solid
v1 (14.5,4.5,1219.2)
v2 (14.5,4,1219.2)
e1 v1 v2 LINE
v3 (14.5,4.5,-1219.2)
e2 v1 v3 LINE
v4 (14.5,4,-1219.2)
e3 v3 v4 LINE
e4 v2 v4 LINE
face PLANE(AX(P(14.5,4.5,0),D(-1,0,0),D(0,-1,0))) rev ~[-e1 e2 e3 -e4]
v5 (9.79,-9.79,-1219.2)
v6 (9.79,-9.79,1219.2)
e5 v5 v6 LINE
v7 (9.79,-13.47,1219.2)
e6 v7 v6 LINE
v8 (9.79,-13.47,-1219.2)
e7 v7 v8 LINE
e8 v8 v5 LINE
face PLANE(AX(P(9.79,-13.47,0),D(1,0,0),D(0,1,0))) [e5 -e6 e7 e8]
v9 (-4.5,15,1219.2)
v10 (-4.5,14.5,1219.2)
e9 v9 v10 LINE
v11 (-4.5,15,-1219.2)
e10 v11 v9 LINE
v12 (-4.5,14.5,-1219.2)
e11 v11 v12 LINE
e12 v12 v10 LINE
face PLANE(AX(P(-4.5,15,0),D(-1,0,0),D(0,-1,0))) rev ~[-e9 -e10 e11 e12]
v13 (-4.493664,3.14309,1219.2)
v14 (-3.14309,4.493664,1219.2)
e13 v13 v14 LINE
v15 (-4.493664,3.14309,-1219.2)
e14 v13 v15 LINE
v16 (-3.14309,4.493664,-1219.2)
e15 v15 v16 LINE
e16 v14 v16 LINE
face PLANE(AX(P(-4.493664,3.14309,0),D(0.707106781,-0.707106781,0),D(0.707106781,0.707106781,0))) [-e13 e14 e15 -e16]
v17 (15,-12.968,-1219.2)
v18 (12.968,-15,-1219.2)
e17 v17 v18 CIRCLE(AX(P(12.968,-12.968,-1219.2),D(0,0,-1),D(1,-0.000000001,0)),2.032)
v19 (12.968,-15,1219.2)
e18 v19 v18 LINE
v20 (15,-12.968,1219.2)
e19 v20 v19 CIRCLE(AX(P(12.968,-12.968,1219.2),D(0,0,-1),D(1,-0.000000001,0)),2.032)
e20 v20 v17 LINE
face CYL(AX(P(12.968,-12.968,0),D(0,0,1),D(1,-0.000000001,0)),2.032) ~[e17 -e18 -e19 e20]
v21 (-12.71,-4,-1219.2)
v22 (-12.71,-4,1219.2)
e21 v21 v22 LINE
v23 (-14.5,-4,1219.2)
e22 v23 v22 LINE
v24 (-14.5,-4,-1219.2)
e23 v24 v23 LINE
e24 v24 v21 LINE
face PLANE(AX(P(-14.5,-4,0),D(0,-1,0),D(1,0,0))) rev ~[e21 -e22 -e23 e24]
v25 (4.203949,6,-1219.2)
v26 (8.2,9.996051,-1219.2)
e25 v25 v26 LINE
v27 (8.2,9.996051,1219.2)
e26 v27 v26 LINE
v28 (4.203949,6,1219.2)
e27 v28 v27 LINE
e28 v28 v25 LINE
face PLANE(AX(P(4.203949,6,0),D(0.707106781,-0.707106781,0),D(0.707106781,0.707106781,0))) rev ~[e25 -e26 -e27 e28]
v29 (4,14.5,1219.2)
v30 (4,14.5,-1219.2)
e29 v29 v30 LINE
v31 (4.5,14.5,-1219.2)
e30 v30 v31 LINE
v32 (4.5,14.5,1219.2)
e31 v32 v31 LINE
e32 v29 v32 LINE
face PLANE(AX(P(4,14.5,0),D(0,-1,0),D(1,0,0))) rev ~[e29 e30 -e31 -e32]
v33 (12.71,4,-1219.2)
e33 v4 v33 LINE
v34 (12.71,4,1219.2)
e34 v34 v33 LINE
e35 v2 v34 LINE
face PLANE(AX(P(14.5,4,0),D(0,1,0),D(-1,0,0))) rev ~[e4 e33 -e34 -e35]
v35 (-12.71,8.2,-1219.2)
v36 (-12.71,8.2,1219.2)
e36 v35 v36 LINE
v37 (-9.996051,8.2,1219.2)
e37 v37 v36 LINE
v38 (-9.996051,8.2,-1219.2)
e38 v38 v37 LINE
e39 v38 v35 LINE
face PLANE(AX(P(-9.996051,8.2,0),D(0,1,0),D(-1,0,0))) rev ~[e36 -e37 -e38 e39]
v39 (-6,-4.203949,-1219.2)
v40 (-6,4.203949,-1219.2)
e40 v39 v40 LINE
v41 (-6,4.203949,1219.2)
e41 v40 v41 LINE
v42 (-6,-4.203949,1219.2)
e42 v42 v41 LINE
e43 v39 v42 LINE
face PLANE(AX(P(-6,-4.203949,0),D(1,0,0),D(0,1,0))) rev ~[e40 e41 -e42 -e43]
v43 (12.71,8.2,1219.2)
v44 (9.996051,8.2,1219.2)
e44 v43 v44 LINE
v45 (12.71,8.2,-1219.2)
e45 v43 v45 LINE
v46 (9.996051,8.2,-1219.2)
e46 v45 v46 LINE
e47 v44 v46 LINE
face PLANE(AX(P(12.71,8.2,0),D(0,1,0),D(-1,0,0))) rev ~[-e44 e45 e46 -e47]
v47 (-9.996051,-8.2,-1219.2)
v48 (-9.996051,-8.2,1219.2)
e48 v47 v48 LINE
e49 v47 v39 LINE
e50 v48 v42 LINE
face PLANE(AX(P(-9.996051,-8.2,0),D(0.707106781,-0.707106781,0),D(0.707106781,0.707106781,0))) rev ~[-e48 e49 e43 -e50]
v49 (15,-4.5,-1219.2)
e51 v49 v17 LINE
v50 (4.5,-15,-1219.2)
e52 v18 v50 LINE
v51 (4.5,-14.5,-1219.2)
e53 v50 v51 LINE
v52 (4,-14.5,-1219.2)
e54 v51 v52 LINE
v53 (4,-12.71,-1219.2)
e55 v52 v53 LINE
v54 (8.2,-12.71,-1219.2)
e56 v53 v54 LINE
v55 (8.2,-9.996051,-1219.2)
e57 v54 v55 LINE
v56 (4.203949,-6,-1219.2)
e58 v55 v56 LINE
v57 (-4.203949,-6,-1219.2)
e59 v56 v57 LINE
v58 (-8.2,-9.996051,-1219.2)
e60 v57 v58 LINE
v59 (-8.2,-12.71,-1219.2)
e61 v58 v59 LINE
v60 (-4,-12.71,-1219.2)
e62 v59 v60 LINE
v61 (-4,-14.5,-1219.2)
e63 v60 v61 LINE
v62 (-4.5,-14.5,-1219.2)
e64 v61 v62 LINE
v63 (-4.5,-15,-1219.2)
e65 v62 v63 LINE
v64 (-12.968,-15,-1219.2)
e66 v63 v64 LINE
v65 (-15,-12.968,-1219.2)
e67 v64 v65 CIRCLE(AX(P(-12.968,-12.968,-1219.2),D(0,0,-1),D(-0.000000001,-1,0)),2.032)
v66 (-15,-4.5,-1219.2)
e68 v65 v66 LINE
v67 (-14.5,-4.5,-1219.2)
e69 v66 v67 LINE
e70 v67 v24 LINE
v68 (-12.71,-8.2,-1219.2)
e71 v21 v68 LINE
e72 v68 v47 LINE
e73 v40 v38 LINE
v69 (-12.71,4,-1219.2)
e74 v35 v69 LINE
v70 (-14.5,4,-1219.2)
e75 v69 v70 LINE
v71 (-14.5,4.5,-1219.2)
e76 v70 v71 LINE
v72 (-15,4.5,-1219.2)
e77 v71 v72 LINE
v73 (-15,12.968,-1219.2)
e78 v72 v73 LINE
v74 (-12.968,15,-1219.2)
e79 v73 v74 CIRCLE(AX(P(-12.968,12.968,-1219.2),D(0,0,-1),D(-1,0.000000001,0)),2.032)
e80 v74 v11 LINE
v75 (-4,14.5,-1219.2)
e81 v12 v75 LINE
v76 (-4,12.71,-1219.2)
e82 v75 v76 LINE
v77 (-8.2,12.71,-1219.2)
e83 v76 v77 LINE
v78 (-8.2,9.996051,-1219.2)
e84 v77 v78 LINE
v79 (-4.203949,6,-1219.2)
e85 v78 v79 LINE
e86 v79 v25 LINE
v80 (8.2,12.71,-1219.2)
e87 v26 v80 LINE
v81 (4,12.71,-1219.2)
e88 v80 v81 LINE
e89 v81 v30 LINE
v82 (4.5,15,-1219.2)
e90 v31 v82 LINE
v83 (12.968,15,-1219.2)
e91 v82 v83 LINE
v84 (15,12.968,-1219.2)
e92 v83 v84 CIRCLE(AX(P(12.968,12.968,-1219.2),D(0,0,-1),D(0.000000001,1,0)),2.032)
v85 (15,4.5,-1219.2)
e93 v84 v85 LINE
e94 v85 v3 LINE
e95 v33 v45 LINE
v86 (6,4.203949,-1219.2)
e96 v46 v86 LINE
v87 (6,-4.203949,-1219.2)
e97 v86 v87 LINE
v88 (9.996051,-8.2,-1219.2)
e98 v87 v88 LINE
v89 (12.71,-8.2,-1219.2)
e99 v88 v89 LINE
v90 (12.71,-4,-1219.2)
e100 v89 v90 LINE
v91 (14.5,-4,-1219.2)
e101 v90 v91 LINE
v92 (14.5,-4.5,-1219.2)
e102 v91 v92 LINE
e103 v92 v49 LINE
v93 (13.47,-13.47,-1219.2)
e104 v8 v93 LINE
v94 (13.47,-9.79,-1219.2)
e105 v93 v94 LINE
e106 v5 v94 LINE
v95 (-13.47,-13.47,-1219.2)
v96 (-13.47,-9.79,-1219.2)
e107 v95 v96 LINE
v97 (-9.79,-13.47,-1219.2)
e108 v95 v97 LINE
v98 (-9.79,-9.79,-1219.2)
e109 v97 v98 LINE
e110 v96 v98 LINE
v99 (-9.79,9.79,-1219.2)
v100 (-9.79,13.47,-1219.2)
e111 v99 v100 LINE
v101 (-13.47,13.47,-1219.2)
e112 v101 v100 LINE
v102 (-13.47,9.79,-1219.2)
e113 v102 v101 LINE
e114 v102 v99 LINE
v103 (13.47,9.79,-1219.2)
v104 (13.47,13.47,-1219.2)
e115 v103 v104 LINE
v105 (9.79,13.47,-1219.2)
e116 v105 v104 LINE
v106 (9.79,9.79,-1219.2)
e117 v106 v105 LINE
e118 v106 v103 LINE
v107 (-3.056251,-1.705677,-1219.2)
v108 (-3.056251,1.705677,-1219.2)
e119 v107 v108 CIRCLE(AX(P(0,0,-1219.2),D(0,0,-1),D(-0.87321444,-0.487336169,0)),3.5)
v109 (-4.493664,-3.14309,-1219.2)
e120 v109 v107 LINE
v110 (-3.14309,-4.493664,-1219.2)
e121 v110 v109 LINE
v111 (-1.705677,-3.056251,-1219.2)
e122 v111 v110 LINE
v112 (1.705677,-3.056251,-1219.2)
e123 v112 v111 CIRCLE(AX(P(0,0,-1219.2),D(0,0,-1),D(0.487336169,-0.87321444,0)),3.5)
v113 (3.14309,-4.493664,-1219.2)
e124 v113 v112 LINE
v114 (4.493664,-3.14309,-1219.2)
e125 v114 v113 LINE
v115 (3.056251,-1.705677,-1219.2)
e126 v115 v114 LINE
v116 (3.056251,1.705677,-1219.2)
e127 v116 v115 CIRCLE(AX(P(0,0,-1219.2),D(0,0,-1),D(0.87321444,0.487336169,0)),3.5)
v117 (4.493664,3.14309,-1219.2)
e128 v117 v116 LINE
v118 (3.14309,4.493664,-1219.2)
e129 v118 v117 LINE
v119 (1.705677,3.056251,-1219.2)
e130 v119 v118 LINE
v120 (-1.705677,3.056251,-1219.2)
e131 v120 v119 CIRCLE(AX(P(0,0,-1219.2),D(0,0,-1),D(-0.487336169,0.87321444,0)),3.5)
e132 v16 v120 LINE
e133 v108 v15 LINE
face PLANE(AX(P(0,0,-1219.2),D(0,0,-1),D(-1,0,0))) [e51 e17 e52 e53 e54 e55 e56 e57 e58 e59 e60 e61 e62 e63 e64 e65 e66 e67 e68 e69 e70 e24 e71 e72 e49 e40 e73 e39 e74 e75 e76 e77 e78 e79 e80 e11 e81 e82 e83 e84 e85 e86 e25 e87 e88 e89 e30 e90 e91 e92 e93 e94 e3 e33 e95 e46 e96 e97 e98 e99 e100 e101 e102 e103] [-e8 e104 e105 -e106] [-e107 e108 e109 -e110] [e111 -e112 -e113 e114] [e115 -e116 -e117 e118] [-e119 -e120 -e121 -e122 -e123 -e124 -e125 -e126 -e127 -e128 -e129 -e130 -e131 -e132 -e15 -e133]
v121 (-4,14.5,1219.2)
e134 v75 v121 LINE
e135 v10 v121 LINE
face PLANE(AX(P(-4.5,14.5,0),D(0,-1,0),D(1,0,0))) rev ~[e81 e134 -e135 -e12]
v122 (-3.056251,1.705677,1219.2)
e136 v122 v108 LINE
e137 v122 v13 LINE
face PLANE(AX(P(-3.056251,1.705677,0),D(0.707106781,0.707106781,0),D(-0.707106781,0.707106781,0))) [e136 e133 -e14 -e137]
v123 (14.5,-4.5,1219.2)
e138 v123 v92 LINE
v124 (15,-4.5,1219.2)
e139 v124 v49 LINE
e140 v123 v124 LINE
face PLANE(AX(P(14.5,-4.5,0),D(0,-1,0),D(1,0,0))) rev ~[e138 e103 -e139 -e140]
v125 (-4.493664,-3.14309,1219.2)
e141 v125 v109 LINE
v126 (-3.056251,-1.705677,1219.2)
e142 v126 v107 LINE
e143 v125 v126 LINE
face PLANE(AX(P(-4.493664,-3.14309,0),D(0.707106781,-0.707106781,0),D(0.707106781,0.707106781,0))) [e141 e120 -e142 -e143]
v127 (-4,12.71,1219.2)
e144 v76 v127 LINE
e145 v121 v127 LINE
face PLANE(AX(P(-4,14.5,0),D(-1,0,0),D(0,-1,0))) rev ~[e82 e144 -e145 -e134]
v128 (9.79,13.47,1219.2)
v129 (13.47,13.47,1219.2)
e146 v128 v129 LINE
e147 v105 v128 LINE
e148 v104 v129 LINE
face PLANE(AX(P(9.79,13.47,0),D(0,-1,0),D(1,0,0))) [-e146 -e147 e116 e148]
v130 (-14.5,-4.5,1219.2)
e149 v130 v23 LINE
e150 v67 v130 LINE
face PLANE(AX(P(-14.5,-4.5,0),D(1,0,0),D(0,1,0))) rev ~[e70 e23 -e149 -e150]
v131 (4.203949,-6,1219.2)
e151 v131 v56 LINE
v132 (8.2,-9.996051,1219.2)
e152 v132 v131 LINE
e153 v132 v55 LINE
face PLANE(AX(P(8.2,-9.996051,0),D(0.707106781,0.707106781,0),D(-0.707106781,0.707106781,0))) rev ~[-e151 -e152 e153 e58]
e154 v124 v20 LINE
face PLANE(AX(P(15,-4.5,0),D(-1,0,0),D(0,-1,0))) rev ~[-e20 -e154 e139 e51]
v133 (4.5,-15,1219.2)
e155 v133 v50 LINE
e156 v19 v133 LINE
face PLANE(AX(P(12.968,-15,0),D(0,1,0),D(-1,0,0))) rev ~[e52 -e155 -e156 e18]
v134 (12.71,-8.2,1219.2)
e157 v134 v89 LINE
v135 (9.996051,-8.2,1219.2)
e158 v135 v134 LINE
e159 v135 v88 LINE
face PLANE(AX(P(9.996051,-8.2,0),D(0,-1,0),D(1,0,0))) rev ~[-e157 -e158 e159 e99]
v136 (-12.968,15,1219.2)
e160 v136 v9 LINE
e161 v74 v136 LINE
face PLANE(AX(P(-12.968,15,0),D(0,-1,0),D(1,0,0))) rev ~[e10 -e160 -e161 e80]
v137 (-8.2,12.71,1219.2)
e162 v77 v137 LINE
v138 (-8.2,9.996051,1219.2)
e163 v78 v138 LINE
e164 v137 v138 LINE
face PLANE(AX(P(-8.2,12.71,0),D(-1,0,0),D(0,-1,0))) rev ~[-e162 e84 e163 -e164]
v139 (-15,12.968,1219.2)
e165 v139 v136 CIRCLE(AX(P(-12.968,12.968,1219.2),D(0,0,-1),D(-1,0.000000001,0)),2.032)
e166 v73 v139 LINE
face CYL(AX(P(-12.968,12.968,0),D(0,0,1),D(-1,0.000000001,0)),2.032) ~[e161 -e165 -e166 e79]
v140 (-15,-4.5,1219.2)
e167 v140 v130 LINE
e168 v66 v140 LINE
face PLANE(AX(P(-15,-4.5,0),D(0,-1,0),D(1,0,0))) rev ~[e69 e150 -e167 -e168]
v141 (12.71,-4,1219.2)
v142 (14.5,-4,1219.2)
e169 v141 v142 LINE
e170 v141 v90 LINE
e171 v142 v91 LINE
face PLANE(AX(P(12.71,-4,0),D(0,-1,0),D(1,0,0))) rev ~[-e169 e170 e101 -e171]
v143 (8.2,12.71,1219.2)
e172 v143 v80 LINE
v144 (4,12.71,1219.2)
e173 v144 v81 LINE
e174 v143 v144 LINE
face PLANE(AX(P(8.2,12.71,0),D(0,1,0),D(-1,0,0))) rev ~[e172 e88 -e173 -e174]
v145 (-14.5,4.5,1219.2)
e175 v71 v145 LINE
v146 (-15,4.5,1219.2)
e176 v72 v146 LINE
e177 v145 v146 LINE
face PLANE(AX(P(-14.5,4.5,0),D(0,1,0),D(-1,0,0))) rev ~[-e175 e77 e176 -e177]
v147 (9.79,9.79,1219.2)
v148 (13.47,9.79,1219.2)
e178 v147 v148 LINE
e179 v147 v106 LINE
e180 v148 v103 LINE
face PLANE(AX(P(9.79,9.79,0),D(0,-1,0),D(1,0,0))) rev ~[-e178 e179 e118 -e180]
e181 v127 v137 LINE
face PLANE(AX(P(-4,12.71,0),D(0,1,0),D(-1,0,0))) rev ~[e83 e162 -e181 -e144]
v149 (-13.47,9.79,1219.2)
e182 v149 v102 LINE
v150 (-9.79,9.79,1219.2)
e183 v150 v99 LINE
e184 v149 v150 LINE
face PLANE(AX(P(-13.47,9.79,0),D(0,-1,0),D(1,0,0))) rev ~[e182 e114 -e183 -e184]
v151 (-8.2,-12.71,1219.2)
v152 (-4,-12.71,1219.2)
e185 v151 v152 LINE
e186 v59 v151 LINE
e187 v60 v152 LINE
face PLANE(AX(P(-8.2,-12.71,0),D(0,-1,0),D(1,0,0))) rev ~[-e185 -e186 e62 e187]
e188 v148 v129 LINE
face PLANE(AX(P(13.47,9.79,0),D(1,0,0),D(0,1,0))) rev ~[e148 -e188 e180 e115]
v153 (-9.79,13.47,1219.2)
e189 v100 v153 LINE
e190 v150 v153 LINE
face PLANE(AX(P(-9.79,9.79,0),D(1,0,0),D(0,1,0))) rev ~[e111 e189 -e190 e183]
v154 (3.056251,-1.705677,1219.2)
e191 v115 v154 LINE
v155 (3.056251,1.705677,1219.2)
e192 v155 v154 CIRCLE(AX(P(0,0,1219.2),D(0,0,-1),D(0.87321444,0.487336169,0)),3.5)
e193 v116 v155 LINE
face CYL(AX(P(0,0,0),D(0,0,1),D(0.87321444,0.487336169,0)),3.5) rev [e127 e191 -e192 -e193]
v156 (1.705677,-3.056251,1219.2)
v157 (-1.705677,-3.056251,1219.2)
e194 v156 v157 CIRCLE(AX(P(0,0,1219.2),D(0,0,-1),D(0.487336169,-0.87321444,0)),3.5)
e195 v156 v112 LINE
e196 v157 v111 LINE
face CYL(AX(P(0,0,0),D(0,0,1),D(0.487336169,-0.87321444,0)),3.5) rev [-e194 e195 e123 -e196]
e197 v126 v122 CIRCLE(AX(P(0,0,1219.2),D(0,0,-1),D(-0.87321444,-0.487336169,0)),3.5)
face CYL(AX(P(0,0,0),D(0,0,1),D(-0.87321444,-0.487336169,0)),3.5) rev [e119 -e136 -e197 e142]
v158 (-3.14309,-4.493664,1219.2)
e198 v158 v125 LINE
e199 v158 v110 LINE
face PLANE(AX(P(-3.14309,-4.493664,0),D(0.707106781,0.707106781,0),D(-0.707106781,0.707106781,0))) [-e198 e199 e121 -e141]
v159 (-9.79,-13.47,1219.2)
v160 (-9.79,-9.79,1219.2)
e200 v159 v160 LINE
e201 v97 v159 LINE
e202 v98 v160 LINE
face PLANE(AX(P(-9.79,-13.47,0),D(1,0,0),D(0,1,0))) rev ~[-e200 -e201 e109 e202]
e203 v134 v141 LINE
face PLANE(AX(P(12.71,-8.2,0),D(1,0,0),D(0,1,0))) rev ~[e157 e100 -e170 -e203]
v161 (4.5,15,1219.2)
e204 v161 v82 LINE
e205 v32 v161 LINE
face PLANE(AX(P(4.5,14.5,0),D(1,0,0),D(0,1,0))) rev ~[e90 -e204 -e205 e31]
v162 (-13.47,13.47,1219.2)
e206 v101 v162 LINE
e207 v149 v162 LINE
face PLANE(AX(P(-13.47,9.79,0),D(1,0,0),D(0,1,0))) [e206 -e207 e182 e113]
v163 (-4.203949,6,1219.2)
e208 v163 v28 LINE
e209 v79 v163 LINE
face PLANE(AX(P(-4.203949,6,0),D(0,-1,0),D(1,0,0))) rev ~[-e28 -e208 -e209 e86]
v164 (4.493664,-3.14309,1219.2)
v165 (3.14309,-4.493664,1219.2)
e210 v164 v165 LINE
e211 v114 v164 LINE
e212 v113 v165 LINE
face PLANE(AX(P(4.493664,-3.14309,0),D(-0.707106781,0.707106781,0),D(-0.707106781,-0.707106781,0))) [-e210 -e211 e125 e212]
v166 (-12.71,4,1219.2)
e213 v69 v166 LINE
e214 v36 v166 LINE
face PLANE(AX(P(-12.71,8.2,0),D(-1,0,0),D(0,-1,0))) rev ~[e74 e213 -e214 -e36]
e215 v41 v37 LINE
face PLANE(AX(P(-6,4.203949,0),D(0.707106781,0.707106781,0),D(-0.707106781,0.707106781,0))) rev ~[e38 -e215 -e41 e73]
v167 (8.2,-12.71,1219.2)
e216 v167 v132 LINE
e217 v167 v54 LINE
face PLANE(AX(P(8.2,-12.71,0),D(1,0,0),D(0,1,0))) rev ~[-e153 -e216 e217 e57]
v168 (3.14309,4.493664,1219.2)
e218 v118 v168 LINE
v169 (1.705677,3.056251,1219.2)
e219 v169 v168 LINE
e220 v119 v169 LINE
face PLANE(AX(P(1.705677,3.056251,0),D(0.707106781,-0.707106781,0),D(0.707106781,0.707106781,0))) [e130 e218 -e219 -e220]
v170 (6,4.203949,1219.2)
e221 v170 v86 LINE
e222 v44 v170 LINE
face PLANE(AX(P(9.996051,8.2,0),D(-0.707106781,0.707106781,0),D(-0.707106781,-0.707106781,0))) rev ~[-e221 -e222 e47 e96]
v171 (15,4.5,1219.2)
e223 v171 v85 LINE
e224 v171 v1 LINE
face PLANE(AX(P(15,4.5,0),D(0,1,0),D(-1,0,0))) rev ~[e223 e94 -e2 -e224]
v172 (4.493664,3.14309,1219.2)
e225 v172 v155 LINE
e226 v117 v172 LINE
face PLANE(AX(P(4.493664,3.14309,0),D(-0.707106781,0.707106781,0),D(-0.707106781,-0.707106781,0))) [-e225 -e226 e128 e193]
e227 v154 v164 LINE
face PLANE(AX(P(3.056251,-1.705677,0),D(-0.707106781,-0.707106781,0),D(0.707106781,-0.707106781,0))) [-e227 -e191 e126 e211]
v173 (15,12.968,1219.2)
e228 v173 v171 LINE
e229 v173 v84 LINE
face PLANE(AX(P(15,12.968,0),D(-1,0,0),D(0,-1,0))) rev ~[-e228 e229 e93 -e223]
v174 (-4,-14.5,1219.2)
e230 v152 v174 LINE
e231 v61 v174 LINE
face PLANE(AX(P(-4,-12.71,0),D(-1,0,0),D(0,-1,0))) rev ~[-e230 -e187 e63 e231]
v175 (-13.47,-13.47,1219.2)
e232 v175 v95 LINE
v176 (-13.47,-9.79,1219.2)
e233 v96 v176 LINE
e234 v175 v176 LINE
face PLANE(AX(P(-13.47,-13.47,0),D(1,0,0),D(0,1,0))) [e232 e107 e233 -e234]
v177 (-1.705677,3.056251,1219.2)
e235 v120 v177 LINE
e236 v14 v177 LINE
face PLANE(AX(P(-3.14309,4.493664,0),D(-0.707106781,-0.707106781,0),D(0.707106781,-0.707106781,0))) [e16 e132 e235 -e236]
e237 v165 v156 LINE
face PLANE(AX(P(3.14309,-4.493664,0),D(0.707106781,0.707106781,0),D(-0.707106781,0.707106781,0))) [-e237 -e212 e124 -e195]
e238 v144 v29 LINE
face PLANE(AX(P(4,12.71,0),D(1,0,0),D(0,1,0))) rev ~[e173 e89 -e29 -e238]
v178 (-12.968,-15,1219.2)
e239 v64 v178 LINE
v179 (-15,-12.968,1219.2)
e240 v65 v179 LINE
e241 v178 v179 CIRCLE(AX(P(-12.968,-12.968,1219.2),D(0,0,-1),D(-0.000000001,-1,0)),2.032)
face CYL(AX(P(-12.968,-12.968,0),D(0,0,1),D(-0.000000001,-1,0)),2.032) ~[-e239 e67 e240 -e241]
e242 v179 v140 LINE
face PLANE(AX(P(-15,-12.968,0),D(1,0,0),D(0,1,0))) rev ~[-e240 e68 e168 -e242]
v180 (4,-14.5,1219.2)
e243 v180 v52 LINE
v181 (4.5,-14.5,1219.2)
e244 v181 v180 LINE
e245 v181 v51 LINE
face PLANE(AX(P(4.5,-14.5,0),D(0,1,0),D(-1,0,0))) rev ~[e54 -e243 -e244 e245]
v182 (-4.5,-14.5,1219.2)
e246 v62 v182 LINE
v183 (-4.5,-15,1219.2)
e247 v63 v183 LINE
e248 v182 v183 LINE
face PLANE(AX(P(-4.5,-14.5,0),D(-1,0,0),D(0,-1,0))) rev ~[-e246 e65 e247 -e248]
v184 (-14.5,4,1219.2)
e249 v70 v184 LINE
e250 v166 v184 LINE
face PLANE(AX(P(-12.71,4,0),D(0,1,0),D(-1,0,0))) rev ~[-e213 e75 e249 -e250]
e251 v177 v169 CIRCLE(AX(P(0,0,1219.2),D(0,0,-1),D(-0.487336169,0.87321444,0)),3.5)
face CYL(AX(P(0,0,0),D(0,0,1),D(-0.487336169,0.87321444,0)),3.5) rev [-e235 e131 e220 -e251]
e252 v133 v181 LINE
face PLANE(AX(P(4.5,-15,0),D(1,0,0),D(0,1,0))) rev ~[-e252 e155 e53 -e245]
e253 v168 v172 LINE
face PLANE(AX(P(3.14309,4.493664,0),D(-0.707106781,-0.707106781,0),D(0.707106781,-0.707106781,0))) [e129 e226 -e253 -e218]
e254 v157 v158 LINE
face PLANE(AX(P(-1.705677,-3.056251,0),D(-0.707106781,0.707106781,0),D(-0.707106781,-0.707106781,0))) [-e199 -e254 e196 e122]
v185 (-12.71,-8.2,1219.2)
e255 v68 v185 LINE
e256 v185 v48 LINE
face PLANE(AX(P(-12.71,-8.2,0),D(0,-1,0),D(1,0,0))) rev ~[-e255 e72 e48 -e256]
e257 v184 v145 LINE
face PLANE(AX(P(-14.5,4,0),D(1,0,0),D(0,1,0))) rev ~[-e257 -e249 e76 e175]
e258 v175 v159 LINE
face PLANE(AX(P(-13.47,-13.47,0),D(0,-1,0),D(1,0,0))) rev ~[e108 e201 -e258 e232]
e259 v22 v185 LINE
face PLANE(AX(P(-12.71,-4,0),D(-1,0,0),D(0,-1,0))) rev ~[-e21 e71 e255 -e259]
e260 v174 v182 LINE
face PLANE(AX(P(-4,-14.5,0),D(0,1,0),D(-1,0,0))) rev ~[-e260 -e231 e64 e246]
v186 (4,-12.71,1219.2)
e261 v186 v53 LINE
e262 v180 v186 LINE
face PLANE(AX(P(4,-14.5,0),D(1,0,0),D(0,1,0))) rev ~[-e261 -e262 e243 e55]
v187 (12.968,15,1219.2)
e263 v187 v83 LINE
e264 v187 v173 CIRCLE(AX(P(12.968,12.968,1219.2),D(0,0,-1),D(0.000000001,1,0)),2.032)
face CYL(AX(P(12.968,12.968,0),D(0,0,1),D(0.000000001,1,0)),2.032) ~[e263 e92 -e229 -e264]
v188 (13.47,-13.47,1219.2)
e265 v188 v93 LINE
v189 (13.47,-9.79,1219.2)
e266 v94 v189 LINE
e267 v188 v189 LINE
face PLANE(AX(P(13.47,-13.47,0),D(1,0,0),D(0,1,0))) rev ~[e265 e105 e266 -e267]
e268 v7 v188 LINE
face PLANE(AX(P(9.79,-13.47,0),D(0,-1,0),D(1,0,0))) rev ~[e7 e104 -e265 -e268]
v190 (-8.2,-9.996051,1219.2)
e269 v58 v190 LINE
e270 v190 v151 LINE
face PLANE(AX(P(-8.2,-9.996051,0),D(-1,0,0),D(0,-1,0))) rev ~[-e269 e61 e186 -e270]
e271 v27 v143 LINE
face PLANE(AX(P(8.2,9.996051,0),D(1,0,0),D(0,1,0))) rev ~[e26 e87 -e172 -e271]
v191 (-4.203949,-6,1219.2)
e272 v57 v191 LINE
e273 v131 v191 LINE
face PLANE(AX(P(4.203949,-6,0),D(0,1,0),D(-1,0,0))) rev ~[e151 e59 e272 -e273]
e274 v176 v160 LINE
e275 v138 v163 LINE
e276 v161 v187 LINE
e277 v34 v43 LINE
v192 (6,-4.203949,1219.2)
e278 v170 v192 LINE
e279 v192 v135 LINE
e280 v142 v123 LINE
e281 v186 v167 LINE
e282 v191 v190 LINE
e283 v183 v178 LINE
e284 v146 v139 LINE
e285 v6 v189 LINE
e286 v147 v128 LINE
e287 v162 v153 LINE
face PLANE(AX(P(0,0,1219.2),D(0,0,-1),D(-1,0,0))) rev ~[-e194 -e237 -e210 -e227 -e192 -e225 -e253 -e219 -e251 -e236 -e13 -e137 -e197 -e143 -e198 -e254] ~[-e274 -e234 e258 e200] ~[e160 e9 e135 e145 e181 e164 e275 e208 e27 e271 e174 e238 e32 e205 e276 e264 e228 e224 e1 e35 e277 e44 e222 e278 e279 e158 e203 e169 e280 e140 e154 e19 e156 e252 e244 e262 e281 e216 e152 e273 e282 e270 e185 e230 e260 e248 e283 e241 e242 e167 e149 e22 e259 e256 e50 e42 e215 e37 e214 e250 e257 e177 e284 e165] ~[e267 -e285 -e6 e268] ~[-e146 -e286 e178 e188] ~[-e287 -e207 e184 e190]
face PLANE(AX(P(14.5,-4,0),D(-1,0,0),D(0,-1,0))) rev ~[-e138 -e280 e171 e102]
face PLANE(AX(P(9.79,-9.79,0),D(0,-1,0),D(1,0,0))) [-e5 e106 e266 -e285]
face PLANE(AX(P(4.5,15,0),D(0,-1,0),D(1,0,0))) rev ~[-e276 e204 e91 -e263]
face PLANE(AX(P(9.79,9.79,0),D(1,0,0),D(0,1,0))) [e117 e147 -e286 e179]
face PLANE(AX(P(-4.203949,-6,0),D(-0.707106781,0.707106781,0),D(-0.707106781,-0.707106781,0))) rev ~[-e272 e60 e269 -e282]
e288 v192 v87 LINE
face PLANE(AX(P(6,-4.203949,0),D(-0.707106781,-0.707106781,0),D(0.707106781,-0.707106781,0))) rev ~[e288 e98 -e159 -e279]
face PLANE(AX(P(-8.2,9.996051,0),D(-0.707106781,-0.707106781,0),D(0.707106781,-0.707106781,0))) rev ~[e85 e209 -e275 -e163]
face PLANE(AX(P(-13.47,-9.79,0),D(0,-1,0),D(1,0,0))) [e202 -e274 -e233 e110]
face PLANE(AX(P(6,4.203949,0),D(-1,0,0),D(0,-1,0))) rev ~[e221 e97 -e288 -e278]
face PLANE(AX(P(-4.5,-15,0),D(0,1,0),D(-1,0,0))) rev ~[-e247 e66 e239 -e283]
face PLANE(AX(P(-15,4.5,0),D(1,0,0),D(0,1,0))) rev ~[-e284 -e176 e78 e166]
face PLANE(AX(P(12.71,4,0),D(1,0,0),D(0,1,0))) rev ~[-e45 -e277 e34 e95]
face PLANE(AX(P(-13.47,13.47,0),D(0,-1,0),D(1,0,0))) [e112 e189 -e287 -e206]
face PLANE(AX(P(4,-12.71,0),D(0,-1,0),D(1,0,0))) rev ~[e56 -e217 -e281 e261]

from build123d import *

# Parameters (mm, degrees)
SKETCH3_W           = 3.68
SKETCH3_H           = 3.68
BOSS_EXTRUDE1_DEPTH = 1219.2


with BuildPart() as part:
    # Sketch3 → Boss-Extrude1 (new, symmetric)
    with BuildSketch(Plane.XY):
        with BuildLine():
            Line((-4.203948776, 6), (0, 6))
            Line((0, 6), (4.203948776, 6))
            Line((4.203948776, 6), (8.2, 9.996051224))
            Line((8.2, 9.996051224), (8.2, 12.71))
            Line((8.2, 12.71), (4, 12.71))
            Line((4, 12.71), (4, 14.5))
            Line((4, 14.5), (4.5, 14.5))
            Line((4.5, 14.5), (4.5, 15))
            Line((4.5, 15), (12.968, 15))
            ThreePointArc((12.968, 15), (14.404840979, 14.404840979), (15, 12.968))
            Line((15, 12.968), (15, 4.5))
            Line((15, 4.5), (14.5, 4.5))
            Line((14.5, 4.5), (14.5, 4))
            Line((14.5, 4), (12.71, 4))
            Line((12.71, 4), (12.71, 8.2))
            Line((12.71, 8.2), (9.996051224, 8.2))
            Line((9.996051224, 8.2), (6, 4.203948776))
            Line((6, 4.203948776), (6, 0))
            Line((6, 0), (6, -4.203948776))
            Line((6, -4.203948776), (9.996051224, -8.2))
            Line((9.996051224, -8.2), (12.71, -8.2))
            Line((12.71, -8.2), (12.71, -4))
            Line((12.71, -4), (14.5, -4))
            Line((14.5, -4), (14.5, -4.5))
            Line((14.5, -4.5), (15, -4.5))
            Line((15, -4.5), (15, -12.968))
            ThreePointArc((15, -12.968), (14.404840979, -14.404840979), (12.968, -15))
            Line((12.968, -15), (4.5, -15))
            Line((4.5, -15), (4.5, -14.5))
            Line((4.5, -14.5), (4, -14.5))
            Line((4, -14.5), (4, -12.71))
            Line((4, -12.71), (8.2, -12.71))
            Line((8.2, -12.71), (8.2, -9.996051224))
            Line((8.2, -9.996051224), (4.203948776, -6))
            Line((4.203948776, -6), (0, -6))
            Line((0, -6), (-4.203948776, -6))
            Line((-4.203948776, -6), (-8.2, -9.996051224))
            Line((-8.2, -9.996051224), (-8.2, -12.71))
            Line((-8.2, -12.71), (-4, -12.71))
            Line((-4, -12.71), (-4, -14.5))
            Line((-4, -14.5), (-4.5, -14.5))
            Line((-4.5, -14.5), (-4.5, -15))
            Line((-4.5, -15), (-12.968, -15))
            ThreePointArc((-12.968, -15), (-14.404840979, -14.404840979), (-15, -12.968))
            Line((-15, -12.968), (-15, -4.5))
            Line((-15, -4.5), (-14.5, -4.5))
            Line((-14.5, -4.5), (-14.5, -4))
            Line((-14.5, -4), (-12.71, -4))
            Line((-12.71, -4), (-12.71, -8.2))
            Line((-12.71, -8.2), (-9.996051224, -8.2))
            Line((-9.996051224, -8.2), (-6, -4.203948776))
            Line((-6, -4.203948776), (-6, 0))
            Line((-6, 0), (-6, 4.203948776))
            Line((-6, 4.203948776), (-9.996051224, 8.2))
            Line((-9.996051224, 8.2), (-12.71, 8.2))
            Line((-12.71, 8.2), (-12.71, 4))
            Line((-12.71, 4), (-14.5, 4))
            Line((-14.5, 4), (-14.5, 4.5))
            Line((-14.5, 4.5), (-15, 4.5))
            Line((-15, 4.5), (-15, 12.968))
            ThreePointArc((-15, 12.968), (-14.404840979, 14.404840979), (-12.968, 15))
            Line((-12.968, 15), (-4.5, 15))
            Line((-4.5, 15), (-4.5, 14.5))
            Line((-4.5, 14.5), (-4, 14.5))
            Line((-4, 14.5), (-4, 12.71))
            Line((-4, 12.71), (-8.2, 12.71))
            Line((-8.2, 12.71), (-8.2, 9.996051224))
            Line((-8.2, 9.996051224), (-4.203948776, 6))
        make_face()
        with Locations((-11.63, 11.63)):
            Rectangle(SKETCH3_W, SKETCH3_H, mode=Mode.SUBTRACT)
        with BuildLine():
            Line((-3.143089642, 4.493663594), (-1.705676589, 3.056250541))
            ThreePointArc((-1.705676589, 3.056250541), (0, 3.5), (1.705676589, 3.056250541))
            Line((1.705676589, 3.056250541), (3.143089642, 4.493663594))
            Line((3.143089642, 4.493663594), (4.493663594, 3.143089642))
            Line((4.493663594, 3.143089642), (3.056250541, 1.705676589))
            ThreePointArc((3.056250541, 1.705676589), (3.5, 0), (3.056250541, -1.705676589))
            Line((3.056250541, -1.705676589), (4.493663594, -3.143089642))
            Line((4.493663594, -3.143089642), (3.143089642, -4.493663594))
            Line((3.143089642, -4.493663594), (1.705676589, -3.056250541))
            ThreePointArc((1.705676589, -3.056250541), (0, -3.5), (-1.705676589, -3.056250541))
            Line((-1.705676589, -3.056250541), (-3.143089642, -4.493663594))
            Line((-3.143089642, -4.493663594), (-4.493663594, -3.143089642))
            Line((-4.493663594, -3.143089642), (-3.056250541, -1.705676589))
            ThreePointArc((-3.056250541, -1.705676589), (-3.5, 0), (-3.056250541, 1.705676589))
            Line((-3.056250541, 1.705676589), (-4.493663594, 3.143089642))
            Line((-4.493663594, 3.143089642), (-3.143089642, 4.493663594))
        make_face(mode=Mode.SUBTRACT)
        with Locations((11.63, 11.63)):
            Rectangle(SKETCH3_W, SKETCH3_H, mode=Mode.SUBTRACT)
        with Locations((11.63, -11.63)):
            Rectangle(SKETCH3_W, SKETCH3_H, mode=Mode.SUBTRACT)
        with Locations((-11.63, -11.63)):
            Rectangle(SKETCH3_W, SKETCH3_H, mode=Mode.SUBTRACT)
    extrude(amount=BOSS_EXTRUDE1_DEPTH, both=True)


solid = part.part
